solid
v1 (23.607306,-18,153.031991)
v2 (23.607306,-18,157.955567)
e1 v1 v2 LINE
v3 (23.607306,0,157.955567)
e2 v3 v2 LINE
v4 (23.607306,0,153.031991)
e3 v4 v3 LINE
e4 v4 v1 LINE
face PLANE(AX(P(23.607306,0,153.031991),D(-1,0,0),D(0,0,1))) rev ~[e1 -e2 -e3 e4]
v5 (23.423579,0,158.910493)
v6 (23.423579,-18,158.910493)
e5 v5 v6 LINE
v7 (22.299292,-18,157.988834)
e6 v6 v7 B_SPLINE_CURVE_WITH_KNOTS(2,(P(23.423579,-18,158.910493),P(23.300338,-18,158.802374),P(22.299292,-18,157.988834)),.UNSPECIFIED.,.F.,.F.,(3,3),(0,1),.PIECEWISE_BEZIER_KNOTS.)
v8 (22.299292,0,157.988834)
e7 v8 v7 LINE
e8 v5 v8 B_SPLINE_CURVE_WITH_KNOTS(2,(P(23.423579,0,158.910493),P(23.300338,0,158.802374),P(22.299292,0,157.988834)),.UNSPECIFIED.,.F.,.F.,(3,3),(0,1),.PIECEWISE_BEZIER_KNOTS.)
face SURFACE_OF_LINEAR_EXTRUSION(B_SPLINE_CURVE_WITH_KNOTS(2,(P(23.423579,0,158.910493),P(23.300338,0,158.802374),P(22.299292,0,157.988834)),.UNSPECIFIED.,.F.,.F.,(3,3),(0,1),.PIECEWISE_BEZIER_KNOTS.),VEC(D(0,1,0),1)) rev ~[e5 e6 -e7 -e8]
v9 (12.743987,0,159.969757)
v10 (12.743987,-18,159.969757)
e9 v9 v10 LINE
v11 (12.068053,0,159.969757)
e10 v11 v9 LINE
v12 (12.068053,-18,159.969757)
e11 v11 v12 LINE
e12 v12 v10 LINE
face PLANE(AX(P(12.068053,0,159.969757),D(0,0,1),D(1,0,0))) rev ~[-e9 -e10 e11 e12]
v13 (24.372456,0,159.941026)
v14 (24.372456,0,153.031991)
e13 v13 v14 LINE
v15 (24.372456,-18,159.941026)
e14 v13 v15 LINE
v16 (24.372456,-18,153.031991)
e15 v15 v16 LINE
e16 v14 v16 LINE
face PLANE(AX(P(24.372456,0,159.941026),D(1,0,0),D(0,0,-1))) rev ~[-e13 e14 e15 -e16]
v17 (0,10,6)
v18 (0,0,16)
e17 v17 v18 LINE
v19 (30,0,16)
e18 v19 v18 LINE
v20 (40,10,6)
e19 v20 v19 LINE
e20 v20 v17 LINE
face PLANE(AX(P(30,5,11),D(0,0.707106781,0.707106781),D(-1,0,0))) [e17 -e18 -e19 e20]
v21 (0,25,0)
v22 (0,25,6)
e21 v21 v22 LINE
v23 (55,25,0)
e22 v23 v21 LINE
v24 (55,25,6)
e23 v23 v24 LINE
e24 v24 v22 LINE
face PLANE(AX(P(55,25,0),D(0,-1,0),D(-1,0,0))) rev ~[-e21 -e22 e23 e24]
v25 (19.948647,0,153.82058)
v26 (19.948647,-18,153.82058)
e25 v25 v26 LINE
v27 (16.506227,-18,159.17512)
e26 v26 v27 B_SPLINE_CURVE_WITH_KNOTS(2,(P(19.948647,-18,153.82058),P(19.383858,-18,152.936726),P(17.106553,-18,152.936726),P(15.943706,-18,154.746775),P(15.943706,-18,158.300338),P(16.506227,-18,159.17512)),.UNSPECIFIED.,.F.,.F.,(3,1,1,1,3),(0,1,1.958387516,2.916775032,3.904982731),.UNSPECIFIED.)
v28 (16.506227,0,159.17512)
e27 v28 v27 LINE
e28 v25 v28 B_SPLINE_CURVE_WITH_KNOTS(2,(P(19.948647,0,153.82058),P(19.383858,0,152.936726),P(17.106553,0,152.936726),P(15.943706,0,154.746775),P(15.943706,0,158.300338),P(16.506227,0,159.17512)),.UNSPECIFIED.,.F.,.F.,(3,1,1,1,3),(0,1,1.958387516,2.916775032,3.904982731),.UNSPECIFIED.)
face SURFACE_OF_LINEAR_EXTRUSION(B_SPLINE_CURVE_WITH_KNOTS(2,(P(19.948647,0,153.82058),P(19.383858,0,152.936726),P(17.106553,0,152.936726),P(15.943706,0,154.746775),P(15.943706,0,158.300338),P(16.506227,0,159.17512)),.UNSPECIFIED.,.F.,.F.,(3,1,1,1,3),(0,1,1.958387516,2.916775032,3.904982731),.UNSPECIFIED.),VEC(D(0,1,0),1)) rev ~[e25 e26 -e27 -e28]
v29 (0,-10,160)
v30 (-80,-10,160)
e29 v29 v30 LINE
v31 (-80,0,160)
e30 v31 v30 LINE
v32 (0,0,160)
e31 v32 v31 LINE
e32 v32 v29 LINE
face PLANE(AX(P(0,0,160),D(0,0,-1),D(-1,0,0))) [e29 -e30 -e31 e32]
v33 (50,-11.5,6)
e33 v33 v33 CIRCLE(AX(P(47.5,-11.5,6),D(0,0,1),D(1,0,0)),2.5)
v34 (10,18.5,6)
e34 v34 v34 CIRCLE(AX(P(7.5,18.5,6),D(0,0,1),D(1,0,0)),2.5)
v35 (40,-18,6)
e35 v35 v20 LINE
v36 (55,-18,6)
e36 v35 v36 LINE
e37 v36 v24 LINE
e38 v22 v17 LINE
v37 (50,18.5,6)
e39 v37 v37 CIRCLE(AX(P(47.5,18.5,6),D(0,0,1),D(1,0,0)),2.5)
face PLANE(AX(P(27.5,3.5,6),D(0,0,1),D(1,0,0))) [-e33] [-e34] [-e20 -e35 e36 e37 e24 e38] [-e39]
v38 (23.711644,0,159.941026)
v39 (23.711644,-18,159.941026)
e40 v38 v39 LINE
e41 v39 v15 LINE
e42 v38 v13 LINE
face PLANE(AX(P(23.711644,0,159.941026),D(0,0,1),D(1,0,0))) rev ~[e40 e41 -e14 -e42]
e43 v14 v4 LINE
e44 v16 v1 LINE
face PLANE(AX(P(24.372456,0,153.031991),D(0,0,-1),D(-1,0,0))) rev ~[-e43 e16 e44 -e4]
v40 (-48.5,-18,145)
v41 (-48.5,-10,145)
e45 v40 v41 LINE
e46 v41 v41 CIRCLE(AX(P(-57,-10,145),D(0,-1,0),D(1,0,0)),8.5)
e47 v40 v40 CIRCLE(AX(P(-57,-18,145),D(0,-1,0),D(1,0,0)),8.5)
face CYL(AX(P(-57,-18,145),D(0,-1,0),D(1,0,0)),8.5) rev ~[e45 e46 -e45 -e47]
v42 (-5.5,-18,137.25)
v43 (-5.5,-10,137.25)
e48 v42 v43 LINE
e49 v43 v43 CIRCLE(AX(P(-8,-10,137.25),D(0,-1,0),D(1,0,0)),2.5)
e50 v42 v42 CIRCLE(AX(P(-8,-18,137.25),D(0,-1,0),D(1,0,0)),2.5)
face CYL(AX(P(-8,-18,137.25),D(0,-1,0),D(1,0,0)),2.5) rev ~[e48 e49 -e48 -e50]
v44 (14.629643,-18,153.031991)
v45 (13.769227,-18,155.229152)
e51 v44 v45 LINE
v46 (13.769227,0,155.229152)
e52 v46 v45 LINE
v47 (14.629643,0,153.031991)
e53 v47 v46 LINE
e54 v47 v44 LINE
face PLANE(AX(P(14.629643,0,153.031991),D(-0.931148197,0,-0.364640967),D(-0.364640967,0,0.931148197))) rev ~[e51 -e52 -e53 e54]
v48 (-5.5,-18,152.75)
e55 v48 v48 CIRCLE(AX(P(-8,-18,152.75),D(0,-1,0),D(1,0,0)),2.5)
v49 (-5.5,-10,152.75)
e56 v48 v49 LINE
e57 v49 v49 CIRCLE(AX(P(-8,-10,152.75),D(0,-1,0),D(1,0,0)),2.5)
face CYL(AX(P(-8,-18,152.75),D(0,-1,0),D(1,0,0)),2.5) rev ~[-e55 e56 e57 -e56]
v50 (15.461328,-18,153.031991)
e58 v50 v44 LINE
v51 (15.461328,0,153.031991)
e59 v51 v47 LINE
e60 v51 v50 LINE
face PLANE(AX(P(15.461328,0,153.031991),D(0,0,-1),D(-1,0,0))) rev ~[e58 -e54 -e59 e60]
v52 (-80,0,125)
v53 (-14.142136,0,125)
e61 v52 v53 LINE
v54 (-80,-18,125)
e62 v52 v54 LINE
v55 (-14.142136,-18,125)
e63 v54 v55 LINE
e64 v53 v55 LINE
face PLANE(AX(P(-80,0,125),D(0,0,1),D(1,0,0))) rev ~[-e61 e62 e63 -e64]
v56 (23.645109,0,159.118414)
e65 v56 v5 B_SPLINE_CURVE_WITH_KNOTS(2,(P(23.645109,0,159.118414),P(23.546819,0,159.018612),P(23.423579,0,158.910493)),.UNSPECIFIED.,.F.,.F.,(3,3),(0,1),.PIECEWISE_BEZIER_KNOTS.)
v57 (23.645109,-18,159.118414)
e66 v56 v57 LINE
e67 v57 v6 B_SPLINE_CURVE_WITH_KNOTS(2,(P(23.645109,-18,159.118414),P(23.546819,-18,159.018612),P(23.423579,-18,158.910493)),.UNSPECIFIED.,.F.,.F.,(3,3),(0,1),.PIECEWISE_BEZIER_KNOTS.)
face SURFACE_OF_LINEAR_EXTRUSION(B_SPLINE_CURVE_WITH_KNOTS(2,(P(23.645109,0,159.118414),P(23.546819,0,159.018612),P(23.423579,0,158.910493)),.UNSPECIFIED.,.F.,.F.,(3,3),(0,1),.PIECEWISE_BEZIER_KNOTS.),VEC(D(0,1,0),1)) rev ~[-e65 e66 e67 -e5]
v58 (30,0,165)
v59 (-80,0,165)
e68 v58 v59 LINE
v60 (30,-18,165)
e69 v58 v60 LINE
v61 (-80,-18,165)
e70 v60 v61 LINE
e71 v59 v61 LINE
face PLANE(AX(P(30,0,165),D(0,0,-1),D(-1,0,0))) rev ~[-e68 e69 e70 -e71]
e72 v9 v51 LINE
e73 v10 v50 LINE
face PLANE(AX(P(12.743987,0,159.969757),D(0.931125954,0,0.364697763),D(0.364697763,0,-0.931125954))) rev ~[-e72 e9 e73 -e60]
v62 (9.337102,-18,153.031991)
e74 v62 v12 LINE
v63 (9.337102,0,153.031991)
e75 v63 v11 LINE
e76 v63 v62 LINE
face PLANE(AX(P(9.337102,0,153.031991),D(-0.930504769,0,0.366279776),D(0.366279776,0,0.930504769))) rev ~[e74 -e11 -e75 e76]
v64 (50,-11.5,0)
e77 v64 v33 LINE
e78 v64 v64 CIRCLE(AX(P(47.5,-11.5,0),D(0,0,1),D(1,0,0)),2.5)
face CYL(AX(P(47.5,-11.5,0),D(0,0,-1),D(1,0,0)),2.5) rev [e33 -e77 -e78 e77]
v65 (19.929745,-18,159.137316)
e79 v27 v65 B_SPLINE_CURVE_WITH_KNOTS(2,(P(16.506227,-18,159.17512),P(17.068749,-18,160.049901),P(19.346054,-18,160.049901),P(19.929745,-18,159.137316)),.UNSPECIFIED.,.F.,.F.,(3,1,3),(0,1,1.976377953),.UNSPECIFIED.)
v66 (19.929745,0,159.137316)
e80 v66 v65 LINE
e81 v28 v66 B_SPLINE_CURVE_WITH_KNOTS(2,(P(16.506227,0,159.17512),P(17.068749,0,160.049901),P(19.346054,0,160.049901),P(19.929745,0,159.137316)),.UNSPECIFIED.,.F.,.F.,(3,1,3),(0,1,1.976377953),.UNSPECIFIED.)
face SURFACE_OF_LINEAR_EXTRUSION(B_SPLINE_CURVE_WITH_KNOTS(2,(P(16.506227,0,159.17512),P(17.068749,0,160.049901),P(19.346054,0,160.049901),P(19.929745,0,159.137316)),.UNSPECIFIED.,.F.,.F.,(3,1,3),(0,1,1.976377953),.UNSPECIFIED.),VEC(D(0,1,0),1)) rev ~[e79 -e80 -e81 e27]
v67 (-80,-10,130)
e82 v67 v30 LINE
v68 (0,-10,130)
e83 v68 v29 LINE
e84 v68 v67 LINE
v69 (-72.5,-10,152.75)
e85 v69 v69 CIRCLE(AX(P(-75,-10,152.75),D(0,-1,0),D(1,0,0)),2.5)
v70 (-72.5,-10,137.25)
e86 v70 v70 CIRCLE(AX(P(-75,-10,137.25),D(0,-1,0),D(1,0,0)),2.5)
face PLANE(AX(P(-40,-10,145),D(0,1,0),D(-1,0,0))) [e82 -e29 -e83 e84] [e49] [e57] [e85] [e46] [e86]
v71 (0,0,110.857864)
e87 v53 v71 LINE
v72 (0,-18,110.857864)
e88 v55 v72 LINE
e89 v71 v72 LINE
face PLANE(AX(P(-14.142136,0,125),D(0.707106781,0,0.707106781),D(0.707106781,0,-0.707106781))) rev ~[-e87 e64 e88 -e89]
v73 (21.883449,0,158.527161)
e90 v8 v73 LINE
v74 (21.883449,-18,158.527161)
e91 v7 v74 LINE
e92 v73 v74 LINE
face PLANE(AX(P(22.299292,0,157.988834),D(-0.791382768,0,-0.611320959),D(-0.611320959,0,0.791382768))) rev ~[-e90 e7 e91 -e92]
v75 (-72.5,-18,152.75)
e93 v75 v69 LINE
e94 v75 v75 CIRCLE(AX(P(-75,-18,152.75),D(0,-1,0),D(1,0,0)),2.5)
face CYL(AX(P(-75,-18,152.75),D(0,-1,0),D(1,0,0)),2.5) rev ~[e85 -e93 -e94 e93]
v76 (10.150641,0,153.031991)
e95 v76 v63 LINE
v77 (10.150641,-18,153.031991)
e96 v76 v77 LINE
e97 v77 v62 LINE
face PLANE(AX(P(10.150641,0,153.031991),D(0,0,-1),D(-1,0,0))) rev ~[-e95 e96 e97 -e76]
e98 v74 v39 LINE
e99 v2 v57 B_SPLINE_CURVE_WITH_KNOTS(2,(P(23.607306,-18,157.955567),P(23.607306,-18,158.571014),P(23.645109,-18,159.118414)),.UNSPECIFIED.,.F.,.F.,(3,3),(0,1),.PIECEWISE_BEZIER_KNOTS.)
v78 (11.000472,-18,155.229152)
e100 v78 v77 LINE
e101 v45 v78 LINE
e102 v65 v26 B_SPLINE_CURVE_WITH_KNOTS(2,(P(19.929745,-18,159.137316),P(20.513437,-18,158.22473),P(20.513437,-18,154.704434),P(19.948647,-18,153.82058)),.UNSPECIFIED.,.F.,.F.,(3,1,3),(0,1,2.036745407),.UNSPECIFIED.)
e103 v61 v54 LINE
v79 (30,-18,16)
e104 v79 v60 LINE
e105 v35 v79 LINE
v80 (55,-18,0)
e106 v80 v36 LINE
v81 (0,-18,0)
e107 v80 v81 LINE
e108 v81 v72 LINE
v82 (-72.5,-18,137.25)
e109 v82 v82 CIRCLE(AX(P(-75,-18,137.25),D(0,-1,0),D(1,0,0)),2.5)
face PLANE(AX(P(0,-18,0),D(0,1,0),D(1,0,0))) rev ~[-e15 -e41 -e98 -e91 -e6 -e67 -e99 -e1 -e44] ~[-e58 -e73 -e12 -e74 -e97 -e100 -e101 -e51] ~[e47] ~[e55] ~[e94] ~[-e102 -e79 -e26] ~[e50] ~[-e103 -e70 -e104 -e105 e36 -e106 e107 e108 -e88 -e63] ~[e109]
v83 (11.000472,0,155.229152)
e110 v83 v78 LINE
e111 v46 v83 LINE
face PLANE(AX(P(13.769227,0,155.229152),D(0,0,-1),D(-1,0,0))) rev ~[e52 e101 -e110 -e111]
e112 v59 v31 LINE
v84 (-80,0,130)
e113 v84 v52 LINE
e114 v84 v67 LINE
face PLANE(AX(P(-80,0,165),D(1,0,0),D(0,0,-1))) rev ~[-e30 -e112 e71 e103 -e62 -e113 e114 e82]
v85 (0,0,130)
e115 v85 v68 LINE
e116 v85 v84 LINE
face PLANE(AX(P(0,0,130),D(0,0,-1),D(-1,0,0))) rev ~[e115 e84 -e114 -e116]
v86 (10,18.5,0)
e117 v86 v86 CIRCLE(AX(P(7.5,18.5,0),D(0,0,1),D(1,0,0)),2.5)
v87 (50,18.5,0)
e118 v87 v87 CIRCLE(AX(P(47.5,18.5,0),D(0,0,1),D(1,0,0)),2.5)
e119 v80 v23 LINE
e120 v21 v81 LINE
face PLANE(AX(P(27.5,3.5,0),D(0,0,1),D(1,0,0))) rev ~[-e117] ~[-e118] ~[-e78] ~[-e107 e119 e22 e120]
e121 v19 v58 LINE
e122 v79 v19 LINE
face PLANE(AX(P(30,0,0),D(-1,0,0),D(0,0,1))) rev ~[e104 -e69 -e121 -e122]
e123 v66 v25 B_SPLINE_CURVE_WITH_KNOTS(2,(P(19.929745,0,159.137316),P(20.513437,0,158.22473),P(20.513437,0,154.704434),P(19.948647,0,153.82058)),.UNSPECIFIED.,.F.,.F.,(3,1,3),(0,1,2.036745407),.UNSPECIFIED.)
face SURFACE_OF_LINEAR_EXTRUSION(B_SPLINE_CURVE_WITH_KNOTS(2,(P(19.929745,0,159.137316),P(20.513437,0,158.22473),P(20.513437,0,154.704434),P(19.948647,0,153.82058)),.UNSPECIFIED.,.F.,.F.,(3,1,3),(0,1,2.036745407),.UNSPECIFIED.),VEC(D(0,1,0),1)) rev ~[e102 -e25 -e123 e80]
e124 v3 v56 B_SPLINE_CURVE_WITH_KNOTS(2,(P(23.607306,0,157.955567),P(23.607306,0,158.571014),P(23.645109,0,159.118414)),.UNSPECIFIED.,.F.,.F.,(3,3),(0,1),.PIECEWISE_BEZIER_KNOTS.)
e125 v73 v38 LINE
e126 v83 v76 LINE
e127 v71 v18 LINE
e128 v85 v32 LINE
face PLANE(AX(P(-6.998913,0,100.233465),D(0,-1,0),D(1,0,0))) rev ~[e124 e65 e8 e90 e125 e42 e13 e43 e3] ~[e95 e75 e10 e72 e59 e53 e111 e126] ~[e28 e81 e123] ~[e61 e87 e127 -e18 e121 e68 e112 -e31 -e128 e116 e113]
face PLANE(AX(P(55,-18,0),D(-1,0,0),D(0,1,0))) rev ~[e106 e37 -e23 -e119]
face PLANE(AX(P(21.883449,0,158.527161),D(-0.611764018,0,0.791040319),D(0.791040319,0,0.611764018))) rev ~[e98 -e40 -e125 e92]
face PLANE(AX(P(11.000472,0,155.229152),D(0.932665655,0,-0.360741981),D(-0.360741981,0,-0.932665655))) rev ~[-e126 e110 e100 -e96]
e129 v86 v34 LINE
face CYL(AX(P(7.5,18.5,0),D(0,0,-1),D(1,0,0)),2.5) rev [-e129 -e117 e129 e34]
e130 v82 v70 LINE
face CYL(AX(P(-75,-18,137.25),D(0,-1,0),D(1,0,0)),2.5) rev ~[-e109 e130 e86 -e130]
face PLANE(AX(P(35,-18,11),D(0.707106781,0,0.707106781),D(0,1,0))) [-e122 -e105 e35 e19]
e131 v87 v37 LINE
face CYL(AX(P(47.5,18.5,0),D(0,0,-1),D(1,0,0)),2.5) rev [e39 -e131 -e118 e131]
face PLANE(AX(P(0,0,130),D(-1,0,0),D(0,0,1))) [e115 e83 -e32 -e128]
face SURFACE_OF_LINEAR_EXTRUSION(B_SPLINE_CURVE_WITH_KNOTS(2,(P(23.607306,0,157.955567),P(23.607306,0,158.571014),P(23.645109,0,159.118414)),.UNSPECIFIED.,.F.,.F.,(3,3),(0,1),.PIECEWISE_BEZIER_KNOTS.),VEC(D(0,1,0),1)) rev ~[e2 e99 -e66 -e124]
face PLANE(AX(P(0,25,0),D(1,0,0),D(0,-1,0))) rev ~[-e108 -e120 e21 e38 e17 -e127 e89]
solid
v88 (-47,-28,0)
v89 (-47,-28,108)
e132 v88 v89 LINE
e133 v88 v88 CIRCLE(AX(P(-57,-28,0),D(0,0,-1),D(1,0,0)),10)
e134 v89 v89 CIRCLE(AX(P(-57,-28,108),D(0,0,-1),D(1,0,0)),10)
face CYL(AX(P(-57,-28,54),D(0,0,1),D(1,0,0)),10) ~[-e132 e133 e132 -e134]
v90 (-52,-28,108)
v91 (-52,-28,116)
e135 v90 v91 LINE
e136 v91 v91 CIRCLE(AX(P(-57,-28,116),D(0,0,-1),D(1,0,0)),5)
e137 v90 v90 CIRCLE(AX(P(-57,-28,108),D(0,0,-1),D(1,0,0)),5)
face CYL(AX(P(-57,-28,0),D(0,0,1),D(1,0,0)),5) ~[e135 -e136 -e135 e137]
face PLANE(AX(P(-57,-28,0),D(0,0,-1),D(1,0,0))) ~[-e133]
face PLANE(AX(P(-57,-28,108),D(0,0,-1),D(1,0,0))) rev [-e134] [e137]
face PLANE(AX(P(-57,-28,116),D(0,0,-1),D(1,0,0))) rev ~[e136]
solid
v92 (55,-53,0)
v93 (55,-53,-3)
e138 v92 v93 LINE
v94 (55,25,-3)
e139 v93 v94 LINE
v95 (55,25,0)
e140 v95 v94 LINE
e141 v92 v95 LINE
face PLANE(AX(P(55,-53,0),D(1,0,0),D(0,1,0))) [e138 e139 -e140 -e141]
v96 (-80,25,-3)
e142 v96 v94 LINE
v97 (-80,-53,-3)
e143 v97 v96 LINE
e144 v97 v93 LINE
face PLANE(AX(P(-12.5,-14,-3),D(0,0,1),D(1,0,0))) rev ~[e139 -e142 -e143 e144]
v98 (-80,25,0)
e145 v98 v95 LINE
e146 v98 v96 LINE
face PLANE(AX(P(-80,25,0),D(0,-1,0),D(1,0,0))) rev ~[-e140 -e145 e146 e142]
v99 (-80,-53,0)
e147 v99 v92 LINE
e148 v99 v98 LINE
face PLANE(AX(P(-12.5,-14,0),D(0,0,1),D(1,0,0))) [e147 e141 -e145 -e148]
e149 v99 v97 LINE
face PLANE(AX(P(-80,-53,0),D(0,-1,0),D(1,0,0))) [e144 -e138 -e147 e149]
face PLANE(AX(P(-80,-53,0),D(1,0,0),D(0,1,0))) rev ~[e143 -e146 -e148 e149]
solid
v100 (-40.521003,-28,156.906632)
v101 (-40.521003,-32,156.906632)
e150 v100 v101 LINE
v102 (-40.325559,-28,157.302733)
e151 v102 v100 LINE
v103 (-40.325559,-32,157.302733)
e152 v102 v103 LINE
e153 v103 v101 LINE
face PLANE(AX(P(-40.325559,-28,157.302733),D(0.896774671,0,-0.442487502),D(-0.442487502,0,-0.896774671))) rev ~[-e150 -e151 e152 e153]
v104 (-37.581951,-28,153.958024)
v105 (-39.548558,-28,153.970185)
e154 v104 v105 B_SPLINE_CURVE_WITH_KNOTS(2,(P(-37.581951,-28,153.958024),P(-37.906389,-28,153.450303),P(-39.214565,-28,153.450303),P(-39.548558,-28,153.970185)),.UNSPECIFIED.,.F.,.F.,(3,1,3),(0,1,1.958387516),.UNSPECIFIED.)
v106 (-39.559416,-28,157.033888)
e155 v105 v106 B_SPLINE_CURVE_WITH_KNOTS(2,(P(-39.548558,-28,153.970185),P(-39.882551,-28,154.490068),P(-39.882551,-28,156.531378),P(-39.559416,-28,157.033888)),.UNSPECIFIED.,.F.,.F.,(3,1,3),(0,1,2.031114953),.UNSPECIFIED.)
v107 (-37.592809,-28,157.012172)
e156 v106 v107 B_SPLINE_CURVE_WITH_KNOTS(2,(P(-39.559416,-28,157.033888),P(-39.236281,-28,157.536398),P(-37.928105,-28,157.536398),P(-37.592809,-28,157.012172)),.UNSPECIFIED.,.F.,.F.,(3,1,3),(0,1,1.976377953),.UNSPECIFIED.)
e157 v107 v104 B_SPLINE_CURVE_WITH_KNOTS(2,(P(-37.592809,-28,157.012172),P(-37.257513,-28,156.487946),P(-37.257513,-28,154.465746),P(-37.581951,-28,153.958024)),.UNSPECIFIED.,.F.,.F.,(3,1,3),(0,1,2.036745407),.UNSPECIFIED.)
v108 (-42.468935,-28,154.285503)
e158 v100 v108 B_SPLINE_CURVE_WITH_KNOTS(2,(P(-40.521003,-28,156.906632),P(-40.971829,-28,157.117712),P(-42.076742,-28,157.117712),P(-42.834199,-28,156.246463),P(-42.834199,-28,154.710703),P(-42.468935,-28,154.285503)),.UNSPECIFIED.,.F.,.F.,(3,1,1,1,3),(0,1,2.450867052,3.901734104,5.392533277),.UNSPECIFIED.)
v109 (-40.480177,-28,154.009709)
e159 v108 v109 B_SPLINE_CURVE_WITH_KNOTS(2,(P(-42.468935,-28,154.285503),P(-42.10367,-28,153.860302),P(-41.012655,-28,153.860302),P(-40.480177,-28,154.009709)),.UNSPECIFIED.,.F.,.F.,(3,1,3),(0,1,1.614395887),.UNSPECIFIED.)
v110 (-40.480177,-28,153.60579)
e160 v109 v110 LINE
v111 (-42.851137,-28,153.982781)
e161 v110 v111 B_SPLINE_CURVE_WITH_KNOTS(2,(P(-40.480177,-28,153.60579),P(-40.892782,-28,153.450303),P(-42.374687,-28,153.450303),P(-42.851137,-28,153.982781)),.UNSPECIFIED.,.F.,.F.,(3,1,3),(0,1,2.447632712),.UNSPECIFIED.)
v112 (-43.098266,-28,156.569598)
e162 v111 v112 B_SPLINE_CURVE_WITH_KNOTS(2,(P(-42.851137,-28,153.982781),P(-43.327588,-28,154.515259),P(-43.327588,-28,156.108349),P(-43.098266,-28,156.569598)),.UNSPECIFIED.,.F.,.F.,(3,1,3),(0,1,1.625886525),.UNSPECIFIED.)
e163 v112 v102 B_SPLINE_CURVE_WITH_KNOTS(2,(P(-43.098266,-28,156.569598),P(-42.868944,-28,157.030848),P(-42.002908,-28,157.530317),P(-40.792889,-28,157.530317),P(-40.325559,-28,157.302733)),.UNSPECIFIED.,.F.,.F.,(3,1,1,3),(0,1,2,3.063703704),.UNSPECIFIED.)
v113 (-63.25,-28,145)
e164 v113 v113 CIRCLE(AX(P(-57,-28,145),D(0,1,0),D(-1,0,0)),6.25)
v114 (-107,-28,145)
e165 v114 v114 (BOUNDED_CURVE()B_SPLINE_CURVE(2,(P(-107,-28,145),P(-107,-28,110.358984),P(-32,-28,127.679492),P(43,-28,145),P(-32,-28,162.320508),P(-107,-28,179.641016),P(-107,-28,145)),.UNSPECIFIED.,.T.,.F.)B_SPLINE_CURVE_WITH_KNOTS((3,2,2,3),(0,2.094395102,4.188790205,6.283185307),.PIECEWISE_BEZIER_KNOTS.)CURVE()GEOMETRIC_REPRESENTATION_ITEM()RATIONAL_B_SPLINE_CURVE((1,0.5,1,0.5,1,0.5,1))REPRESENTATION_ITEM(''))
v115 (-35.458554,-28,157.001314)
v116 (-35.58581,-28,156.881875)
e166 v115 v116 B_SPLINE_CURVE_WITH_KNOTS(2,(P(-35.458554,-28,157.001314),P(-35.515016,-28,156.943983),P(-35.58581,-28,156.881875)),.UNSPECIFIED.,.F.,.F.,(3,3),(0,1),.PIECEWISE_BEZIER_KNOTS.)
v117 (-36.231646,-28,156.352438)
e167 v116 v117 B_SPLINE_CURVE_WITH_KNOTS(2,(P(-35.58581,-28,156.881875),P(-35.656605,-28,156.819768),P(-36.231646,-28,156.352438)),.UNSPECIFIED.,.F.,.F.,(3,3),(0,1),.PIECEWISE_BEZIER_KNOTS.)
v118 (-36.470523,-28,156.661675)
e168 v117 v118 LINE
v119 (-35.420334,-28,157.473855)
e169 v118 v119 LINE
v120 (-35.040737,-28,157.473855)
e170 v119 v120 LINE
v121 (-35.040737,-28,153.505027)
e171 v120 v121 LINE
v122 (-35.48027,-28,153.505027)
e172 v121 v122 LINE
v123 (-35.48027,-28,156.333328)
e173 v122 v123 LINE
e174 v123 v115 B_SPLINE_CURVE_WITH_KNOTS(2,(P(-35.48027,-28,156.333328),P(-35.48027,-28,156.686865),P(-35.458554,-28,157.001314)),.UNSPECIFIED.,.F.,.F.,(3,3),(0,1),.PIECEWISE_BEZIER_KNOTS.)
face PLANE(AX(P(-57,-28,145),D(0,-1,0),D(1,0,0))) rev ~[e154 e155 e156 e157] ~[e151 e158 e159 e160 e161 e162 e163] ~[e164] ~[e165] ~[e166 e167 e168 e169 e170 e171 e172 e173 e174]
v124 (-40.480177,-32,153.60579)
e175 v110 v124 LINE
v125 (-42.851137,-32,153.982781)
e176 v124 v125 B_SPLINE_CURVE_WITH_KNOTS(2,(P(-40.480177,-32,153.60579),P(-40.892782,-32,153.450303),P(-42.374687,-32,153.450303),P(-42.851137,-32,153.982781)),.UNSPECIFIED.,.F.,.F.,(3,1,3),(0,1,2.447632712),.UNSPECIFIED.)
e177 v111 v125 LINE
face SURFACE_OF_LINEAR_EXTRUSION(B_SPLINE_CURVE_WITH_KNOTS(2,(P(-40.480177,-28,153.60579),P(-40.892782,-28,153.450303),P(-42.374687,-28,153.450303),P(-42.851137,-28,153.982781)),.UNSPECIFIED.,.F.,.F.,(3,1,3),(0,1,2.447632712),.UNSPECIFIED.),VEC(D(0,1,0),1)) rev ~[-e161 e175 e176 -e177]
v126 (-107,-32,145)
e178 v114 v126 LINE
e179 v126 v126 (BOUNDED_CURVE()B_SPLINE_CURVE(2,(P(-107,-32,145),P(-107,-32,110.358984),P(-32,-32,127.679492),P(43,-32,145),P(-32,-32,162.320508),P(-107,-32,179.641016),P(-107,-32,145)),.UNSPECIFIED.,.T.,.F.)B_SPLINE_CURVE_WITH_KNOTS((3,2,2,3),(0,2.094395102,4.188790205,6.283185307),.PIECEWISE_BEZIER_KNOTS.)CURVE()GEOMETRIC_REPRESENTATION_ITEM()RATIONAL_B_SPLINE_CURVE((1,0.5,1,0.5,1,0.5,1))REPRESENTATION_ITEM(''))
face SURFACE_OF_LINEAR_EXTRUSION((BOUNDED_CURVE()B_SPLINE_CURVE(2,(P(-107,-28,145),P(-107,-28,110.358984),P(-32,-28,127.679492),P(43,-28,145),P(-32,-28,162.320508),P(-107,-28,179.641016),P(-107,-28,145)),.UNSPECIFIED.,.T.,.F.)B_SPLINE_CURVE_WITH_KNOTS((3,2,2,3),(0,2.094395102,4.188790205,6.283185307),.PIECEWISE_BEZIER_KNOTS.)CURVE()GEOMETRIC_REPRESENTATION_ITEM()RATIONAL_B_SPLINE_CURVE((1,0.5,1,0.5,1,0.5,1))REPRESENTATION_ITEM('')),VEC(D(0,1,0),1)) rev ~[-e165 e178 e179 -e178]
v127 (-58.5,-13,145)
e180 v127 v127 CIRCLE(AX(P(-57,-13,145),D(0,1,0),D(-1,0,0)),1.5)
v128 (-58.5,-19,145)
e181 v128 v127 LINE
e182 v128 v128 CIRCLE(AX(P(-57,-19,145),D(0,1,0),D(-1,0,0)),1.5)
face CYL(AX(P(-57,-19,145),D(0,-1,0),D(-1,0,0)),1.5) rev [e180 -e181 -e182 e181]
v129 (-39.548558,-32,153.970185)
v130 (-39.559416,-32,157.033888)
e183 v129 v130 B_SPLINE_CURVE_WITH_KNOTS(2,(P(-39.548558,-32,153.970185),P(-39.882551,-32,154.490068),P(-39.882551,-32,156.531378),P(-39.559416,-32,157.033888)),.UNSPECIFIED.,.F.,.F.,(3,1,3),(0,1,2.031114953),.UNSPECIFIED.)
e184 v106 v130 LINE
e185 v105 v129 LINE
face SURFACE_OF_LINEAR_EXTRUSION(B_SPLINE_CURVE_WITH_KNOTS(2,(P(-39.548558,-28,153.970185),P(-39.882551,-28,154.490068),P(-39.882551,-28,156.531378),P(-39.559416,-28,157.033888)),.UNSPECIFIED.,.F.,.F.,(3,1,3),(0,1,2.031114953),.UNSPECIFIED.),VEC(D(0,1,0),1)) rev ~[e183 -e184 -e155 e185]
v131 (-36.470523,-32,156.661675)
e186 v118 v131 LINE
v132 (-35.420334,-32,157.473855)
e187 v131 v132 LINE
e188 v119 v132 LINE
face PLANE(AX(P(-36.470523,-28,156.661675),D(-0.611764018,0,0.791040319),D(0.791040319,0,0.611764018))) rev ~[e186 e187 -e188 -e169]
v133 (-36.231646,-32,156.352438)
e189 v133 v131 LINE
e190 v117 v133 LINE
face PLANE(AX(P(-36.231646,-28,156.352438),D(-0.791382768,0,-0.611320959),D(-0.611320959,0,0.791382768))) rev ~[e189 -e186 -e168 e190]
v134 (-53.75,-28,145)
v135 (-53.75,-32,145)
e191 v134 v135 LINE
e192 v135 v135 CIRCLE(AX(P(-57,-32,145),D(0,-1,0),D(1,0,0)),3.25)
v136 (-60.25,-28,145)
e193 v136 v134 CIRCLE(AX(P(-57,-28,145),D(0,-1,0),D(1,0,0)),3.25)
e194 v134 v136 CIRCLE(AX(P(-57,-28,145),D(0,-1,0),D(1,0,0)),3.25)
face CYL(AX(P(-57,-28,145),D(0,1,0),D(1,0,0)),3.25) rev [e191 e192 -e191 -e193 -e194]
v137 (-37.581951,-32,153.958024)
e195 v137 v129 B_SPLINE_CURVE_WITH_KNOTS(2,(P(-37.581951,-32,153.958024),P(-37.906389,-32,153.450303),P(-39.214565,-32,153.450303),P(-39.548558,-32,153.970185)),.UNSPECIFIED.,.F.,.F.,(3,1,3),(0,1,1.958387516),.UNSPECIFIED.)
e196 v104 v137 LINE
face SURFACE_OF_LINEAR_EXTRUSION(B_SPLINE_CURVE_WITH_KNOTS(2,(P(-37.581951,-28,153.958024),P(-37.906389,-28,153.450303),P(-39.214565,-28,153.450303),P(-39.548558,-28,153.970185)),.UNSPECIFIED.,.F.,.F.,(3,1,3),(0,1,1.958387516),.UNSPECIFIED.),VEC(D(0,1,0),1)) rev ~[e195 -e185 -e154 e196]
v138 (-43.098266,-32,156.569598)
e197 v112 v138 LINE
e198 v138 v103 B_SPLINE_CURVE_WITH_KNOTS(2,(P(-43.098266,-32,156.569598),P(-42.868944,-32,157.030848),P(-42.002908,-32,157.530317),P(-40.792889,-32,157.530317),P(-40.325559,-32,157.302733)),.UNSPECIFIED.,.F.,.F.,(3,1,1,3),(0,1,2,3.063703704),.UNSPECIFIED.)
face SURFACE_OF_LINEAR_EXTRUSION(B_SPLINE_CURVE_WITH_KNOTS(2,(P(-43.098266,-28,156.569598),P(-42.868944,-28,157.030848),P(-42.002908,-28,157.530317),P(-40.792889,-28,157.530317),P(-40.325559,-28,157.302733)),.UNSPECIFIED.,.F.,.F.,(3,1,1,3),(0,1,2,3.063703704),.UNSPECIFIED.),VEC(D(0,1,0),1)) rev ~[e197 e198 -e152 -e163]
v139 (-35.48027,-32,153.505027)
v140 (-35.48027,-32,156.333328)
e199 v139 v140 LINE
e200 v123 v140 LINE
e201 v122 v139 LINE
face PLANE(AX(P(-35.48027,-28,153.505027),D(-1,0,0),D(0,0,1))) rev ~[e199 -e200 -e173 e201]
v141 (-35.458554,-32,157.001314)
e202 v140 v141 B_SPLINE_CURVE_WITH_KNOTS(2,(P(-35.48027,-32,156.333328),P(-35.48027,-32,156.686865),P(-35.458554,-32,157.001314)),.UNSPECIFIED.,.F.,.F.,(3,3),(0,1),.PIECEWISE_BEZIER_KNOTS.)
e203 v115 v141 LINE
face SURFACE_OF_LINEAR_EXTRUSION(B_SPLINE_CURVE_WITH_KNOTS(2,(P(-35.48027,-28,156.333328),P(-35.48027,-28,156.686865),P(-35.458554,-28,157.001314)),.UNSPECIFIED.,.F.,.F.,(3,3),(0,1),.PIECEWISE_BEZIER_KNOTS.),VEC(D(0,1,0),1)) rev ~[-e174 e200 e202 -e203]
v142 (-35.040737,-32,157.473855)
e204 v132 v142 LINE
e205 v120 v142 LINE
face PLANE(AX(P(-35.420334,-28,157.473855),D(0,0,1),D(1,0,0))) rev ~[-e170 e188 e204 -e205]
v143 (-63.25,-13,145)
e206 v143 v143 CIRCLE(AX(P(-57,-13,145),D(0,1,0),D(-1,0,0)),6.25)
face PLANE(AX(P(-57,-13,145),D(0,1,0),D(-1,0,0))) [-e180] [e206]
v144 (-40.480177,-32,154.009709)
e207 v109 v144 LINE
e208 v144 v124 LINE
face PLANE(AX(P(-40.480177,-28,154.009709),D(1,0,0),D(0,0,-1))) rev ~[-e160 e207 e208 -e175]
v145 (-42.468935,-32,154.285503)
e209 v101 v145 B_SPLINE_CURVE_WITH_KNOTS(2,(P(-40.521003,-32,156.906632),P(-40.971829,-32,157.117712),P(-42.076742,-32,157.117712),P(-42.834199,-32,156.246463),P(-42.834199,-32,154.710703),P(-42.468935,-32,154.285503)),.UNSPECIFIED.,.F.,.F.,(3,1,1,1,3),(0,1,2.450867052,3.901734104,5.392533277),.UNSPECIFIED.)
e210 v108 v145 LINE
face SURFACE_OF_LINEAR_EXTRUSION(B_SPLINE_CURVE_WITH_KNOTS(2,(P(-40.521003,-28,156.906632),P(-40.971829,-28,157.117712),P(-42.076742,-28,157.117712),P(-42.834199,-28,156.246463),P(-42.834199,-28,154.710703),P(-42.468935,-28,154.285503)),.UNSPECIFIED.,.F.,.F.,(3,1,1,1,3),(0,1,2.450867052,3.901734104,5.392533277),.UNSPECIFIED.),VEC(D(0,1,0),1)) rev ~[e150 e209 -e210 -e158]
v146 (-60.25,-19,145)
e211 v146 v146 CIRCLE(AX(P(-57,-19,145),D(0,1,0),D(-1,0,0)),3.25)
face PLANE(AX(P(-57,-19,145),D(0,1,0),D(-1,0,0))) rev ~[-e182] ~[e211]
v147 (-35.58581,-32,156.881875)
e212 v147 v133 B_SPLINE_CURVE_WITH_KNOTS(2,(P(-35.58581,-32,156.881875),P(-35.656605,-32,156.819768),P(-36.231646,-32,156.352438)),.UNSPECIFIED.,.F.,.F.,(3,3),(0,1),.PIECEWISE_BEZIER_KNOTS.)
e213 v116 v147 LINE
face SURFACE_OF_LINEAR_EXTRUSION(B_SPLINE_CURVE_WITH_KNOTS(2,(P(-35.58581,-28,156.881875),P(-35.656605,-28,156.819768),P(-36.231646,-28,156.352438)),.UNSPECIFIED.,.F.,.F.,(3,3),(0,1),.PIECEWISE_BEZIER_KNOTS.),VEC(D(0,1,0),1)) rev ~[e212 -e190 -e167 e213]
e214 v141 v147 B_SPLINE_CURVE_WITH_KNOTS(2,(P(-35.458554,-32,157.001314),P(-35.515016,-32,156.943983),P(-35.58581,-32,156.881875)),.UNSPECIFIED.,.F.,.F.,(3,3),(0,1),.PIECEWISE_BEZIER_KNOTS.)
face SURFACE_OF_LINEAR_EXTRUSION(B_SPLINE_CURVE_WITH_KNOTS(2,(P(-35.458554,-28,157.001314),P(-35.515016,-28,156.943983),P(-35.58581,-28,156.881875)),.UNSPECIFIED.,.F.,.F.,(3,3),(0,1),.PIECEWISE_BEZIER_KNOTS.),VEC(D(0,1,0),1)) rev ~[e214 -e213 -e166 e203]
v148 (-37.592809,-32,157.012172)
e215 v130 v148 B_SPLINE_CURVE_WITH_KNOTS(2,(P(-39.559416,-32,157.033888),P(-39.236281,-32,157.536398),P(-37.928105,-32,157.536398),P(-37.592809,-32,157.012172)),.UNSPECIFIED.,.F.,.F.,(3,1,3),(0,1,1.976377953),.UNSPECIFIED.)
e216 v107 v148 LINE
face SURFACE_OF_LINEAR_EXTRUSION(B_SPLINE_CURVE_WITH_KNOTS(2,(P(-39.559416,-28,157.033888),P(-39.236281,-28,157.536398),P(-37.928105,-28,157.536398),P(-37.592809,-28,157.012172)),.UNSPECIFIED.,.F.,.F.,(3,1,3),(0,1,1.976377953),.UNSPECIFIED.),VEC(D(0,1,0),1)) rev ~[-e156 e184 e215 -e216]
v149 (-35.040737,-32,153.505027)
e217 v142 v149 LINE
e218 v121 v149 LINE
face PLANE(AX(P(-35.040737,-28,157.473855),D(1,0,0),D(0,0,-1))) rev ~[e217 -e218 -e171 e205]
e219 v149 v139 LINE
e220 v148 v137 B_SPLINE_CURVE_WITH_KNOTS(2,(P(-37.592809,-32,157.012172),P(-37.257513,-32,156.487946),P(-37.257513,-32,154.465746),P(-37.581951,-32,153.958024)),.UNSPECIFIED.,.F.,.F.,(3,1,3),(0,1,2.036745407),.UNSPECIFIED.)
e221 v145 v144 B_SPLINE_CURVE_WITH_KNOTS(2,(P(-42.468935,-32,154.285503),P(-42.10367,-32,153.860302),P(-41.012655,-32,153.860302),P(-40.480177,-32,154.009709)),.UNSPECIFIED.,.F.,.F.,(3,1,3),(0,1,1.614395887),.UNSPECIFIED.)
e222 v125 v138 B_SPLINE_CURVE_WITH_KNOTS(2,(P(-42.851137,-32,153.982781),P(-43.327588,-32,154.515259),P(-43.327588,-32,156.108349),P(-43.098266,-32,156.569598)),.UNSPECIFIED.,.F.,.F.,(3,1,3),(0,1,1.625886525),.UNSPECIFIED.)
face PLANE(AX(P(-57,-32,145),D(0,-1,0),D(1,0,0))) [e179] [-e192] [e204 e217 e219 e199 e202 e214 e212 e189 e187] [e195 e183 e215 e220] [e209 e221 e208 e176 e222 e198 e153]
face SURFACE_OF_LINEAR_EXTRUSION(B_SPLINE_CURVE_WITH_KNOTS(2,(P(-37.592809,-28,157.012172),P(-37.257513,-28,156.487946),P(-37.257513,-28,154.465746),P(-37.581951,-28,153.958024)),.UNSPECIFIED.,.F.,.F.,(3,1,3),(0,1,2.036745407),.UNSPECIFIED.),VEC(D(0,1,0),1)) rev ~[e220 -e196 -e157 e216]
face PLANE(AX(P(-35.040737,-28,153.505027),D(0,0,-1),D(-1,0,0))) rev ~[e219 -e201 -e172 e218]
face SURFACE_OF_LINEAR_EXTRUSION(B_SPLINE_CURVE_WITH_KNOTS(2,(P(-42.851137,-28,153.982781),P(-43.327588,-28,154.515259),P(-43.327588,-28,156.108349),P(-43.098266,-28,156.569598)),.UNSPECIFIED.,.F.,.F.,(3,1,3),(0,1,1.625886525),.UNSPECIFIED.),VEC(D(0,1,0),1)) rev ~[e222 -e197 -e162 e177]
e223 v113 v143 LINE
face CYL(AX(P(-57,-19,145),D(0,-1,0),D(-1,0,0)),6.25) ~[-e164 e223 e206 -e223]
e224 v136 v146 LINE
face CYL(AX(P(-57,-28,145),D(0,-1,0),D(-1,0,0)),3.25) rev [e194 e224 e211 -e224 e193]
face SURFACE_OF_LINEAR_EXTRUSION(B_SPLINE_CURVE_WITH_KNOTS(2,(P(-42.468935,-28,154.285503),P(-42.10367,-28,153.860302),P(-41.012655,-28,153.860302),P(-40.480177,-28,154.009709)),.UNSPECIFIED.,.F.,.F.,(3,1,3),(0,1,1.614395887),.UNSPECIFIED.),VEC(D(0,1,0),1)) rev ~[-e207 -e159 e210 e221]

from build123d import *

# Parameters (mm, degrees)
F1_DEPTH  = 18
F2_R      = 2.5
F2_R_2    = 8.5
F3_DEPTH  = 18.0010001
F4_W      = 80
F4_H      = 30
F5_DEPTH  = 10
F6_R      = 2.5
F7_DEPTH  = 6
F8_SIZE   = 10
F10_R     = 3.25
F11_DEPTH = 4
F12_R     = 6.25
F12_R_2   = 3.25
F13_DEPTH = 9
F14_R     = 6.25
F14_R_2   = 1.5
F15_DEPTH = 6
F16_W     = 5
F16_H     = 108
F18_W     = 135
F18_H     = 78
F19_DEPTH = 3


with BuildPart() as f1:
    # F0 (on Front) → F1 (new body)
    with BuildSketch(Plane.XZ):
        Polygon((0, 110.8578643763), (0, 0), (30, 0), (30, 165), (-80, 165), (-80, 125), (-14.1421356237, 125), align=None)
        Polygon((15.4613284809, 153.0319913823), (14.6296434245, 153.0319913823), (13.7692274298, 155.2291520858), (11.0004722695, 155.2291520858), (10.1506413574, 153.0319913823), (9.3371021568, 153.0319913823), (12.0680534509, 159.969756907), (12.7439865785, 159.969756907), align=None, mode=Mode.SUBTRACT)
        with BuildLine():
            add(Edge.make_bspline(
                [(19.9297454655, 159.1373157734), (20.5134371596, 158.2247304433), (20.5134371596, 156.4963376808)],
                knots=[0, 0, 0, 1, 1, 1], degree=2))
            add(Edge.make_bspline(
                [(20.5134371596, 156.4963376808), (20.5134371596, 154.704434423), (19.9486473986, 153.8205800312)],
                knots=[0, 0, 0, 1, 1, 1], degree=2))
            add(Edge.make_bspline(
                [(19.9486473986, 153.8205800312), (19.3838576376, 152.9367256395), (18.2210107133, 152.9367256395)],
                knots=[0, 0, 0, 1, 1, 1], degree=2))
            add(Edge.make_bspline(
                [(18.2210107133, 152.9367256395), (17.1065527378, 152.9367256395), (16.5251292757, 153.8417501963)],
                knots=[0, 0, 0, 1, 1, 1], degree=2))
            add(Edge.make_bspline(
                [(16.5251292757, 153.8417501963), (15.9437058136, 154.7467747531), (15.9437058136, 156.4963376808)],
                knots=[0, 0, 0, 1, 1, 1], degree=2))
            add(Edge.make_bspline(
                [(15.9437058136, 156.4963376808), (15.9437058136, 158.3003381757), (16.5062273426, 159.1751196396)],
                knots=[0, 0, 0, 1, 1, 1], degree=2))
            add(Edge.make_bspline(
                [(16.5062273426, 159.1751196396), (17.0687488716, 160.0499011034), (18.2210107133, 160.0499011034)],
                knots=[0, 0, 0, 1, 1, 1], degree=2))
            add(Edge.make_bspline(
                [(18.2210107133, 160.0499011034), (19.3460537714, 160.0499011034), (19.9297454655, 159.1373157734)],
                knots=[0, 0, 0, 1, 1, 1], degree=2))
        make_face(mode=Mode.SUBTRACT)
        with BuildLine():
            Line((24.3724558211, 159.9410259687), (24.3724558211, 153.0319913823))
            Line((24.3724558211, 153.0319913823), (23.6073055693, 153.0319913823))
            Line((23.6073055693, 153.0319913823), (23.6073055693, 157.955566916))
            add(Edge.make_bspline(
                [(23.6073055693, 157.955566916), (23.6073055693, 158.5710138577), (23.6451094355, 159.1184138403)],
                knots=[0, 0, 0, 1, 1, 1], degree=2))
            add(Edge.make_bspline(
                [(23.6451094355, 159.1184138403), (23.5468193833, 159.0186116335), (23.4235787795, 158.9104925762)],
                knots=[0, 0, 0, 1, 1, 1], degree=2))
            add(Edge.make_bspline(
                [(23.4235787795, 158.9104925762), (23.3003381757, 158.8023735188), (22.2992917988, 157.9888343183)],
                knots=[0, 0, 0, 1, 1, 1], degree=2))
            Line((22.2992917988, 157.9888343183), (21.8834492706, 158.5271613729))
            Line((21.8834492706, 158.5271613729), (23.71164424, 159.9410259687))
            Line((23.71164424, 159.9410259687), (24.3724558211, 159.9410259687))
        make_face(mode=Mode.SUBTRACT)
    extrude(amount=F1_DEPTH)

    # F2 (on face) → F3 (cut, through all)
    with BuildSketch(Plane.XZ.offset(18)):
        with Locations((-75, 152.75)):
            Circle(F2_R)
        with Locations((-75, 137.25)):
            Circle(F2_R)
        with Locations((-8, 137.25)):
            Circle(F2_R)
        with Locations((-8, 152.75)):
            Circle(F2_R)
        with Locations((-57, 145)):
            Circle(F2_R_2)
    extrude(amount=-F3_DEPTH, mode=Mode.SUBTRACT)

    # F4 (on face) → F5 (cut)
    with BuildSketch(Plane(origin=(0, 0, 0), x_dir=(-1, 0, 0), z_dir=(0, 1, 0))):
        with Locations((40, 145)):
            Rectangle(F4_W, F4_H)
    extrude(amount=-F5_DEPTH, mode=Mode.SUBTRACT)

    # F6 (on Top) → F7 (join)
    with BuildSketch(Plane.XY):
        Polygon((55, 25), (0, 25), (0, 0), (0, -18), (30, -18), (55, -18), align=None)
        with Locations((47.5, -11.5)):
            Circle(F6_R, mode=Mode.SUBTRACT)
        with Locations((7.5, 18.5)):
            Circle(F6_R, mode=Mode.SUBTRACT)
        with Locations((47.5, 18.5)):
            Circle(F6_R, mode=Mode.SUBTRACT)
    extrude(amount=F7_DEPTH)

    # F8
    f8_edges = [f1.edges().sort_by_distance(p)[0] for p in [
        (30, -9, 6),
        (15, 0, 6),
    ]]
    chamfer(f8_edges, length=F8_SIZE)


with BuildPart() as f11:
    # F10 (on offset) → F11 (new body)
    with BuildSketch(Plane.XZ.offset(28)):
        with BuildLine():
            add(Edge.make_bspline(
                [(-107, 145), (-107, 110.3589838486), (-32, 127.6794919243), (43, 145), (-32, 162.3205080757), (-107, 179.6410161514), (-107, 145)],
                knots=[0, 0, 0, 2.0943951024, 2.0943951024, 4.1887902048, 4.1887902048, 6.2831853072, 6.2831853072, 6.2831853072], degree=2, weights=[1, 0.5, 1, 0.5, 1, 0.5, 1]))
        make_face()
        with Locations((-57, 145)):
            Circle(F10_R, mode=Mode.SUBTRACT)
        with BuildLine():
            add(Edge.make_bspline(
                [(-40.5210034417, 156.906631814), (-40.9718289642, 157.1177119719), (-41.4226544866, 157.1177119719)],
                knots=[0, 0, 0, 1, 1, 1], degree=2))
            add(Edge.make_bspline(
                [(-41.4226544866, 157.1177119719), (-42.0767423833, 157.1177119719), (-42.4554705678, 156.6820876954)],
                knots=[0, 0, 0, 1, 1, 1], degree=2))
            add(Edge.make_bspline(
                [(-42.4554705678, 156.6820876954), (-42.8341987523, 156.2464634189), (-42.8341987523, 155.4890070499)],
                knots=[0, 0, 0, 1, 1, 1], degree=2))
            add(Edge.make_bspline(
                [(-42.8341987523, 155.4890070499), (-42.8341987523, 154.7107032578), (-42.4689345285, 154.2855026928)],
                knots=[0, 0, 0, 1, 1, 1], degree=2))
            add(Edge.make_bspline(
                [(-42.4689345285, 154.2855026928), (-42.1036703046, 153.8603021278), (-41.4278663423, 153.8603021278)],
                knots=[0, 0, 0, 1, 1, 1], degree=2))
            add(Edge.make_bspline(
                [(-41.4278663423, 153.8603021278), (-41.0126551675, 153.8603021278), (-40.4801772384, 154.0097086593)],
                knots=[0, 0, 0, 1, 1, 1], degree=2))
            Line((-40.4801772384, 154.0097086593), (-40.4801772384, 153.6057898387))
            add(Edge.make_bspline(
                [(-40.4801772384, 153.6057898387), (-40.8927824853, 153.4503028088), (-41.498226395, 153.4503028088)],
                knots=[0, 0, 0, 1, 1, 1], degree=2))
            add(Edge.make_bspline(
                [(-41.498226395, 153.4503028088), (-42.3746868037, 153.4503028088), (-42.8511372835, 153.982780738)],
                knots=[0, 0, 0, 1, 1, 1], degree=2))
            add(Edge.make_bspline(
                [(-42.8511372835, 153.982780738), (-43.3275877634, 154.5152586671), (-43.3275877634, 155.4950875482)],
                knots=[0, 0, 0, 1, 1, 1], degree=2))
            add(Edge.make_bspline(
                [(-43.3275877634, 155.4950875482), (-43.3275877634, 156.1083492415), (-43.0982661104, 156.5695984755)],
                knots=[0, 0, 0, 1, 1, 1], degree=2))
            add(Edge.make_bspline(
                [(-43.0982661104, 156.5695984755), (-42.8689444573, 157.0308477094), (-42.4359261087, 157.2805824641)],
                knots=[0, 0, 0, 1, 1, 1], degree=2))
            add(Edge.make_bspline(
                [(-42.4359261087, 157.2805824641), (-42.0029077601, 157.5303172188), (-41.4165739882, 157.5303172188)],
                knots=[0, 0, 0, 1, 1, 1], degree=2))
            add(Edge.make_bspline(
                [(-41.4165739882, 157.5303172188), (-40.7928885834, 157.5303172188), (-40.3255588511, 157.302732851)],
                knots=[0, 0, 0, 1, 1, 1], degree=2))
            Line((-40.3255588511, 157.302732851), (-40.5210034417, 156.906631814))
        make_face(mode=Mode.SUBTRACT)
        with BuildLine():
            add(Edge.make_bspline(
                [(-37.5928091526, 157.012171893), (-37.2575130993, 156.4879460687), (-37.2575130993, 155.4950875482)],
                knots=[0, 0, 0, 1, 1, 1], degree=2))
            add(Edge.make_bspline(
                [(-37.2575130993, 155.4950875482), (-37.2575130993, 154.4657460375), (-37.5819511197, 153.9580244231)],
                knots=[0, 0, 0, 1, 1, 1], degree=2))
            add(Edge.make_bspline(
                [(-37.5819511197, 153.9580244231), (-37.9063891402, 153.4503028088), (-38.5743753189, 153.4503028088)],
                knots=[0, 0, 0, 1, 1, 1], degree=2))
            add(Edge.make_bspline(
                [(-38.5743753189, 153.4503028088), (-39.2145649336, 153.4503028088), (-39.5485580229, 153.9701854199)],
                knots=[0, 0, 0, 1, 1, 1], degree=2))
            add(Edge.make_bspline(
                [(-39.5485580229, 153.9701854199), (-39.8825511123, 154.490068031), (-39.8825511123, 155.4950875482)],
                knots=[0, 0, 0, 1, 1, 1], degree=2))
            add(Edge.make_bspline(
                [(-39.8825511123, 155.4950875482), (-39.8825511123, 156.5313782), (-39.5594160558, 157.0338879586)],
                knots=[0, 0, 0, 1, 1, 1], degree=2))
            add(Edge.make_bspline(
                [(-39.5594160558, 157.0338879586), (-39.2362809992, 157.5363977172), (-38.5743753189, 157.5363977172)],
                knots=[0, 0, 0, 1, 1, 1], degree=2))
            add(Edge.make_bspline(
                [(-38.5743753189, 157.5363977172), (-37.9281052058, 157.5363977172), (-37.5928091526, 157.012171893)],
                knots=[0, 0, 0, 1, 1, 1], degree=2))
        make_face(mode=Mode.SUBTRACT)
        with BuildLine():
            Line((-35.04073712, 157.4738554482), (-35.04073712, 153.5050272942))
            Line((-35.04073712, 153.5050272942), (-35.4802702883, 153.5050272942))
            Line((-35.4802702883, 153.5050272942), (-35.4802702883, 156.3333276814))
            add(Edge.make_bspline(
                [(-35.4802702883, 156.3333276814), (-35.4802702883, 156.6868652299), (-35.4585542227, 157.0013138601)],
                knots=[0, 0, 0, 1, 1, 1], degree=2))
            add(Edge.make_bspline(
                [(-35.4585542227, 157.0013138601), (-35.5150159933, 156.9439834469), (-35.5858103673, 156.8818754992)],
                knots=[0, 0, 0, 1, 1, 1], degree=2))
            add(Edge.make_bspline(
                [(-35.5858103673, 156.8818754992), (-35.6566047412, 156.8197675515), (-36.231646159, 156.3524378192)],
                knots=[0, 0, 0, 1, 1, 1], degree=2))
            Line((-36.231646159, 156.3524378192), (-36.4705228809, 156.6616745937))
            Line((-36.4705228809, 156.6616745937), (-35.4203339472, 157.4738554482))
            Line((-35.4203339472, 157.4738554482), (-35.04073712, 157.4738554482))
        make_face(mode=Mode.SUBTRACT)
    extrude(amount=F11_DEPTH)

    # F12 (on face) → F13 (join)
    with BuildSketch(Plane(origin=(0, -28, 0), x_dir=(-1, 0, 0), z_dir=(0, 1, 0))):
        with Locations((57, 145)):
            Circle(F12_R)
        with Locations((57, 145)):
            Circle(F12_R_2, mode=Mode.SUBTRACT)
    extrude(amount=F13_DEPTH)

    # F14 (on face) → F15 (join)
    with BuildSketch(Plane(origin=(0, -19, 0), x_dir=(-1, 0, 0), z_dir=(0, 1, 0))):
        with Locations((57, 145)):
            Circle(F14_R)
        with Locations((57, 145)):
            Circle(F14_R_2, mode=Mode.SUBTRACT)
    extrude(amount=F15_DEPTH)


with BuildPart() as f17:
    # F16 (on offset) → F17 (revolve)
    with BuildSketch(Plane.XZ.offset(28)):
        Polygon((-52, 116), (-57, 116), (-57, 0), (-52, 0), (-52, 108), align=None)
        with Locations((-49.5, 54)):
            Rectangle(F16_W, F16_H)
    revolve(axis=Axis((-57, -28, 58), (0, 0, -1)))


with BuildPart() as f19:
    # F18 (on Top) → F19 (new body)
    with BuildSketch(Plane.XY):
        with Locations((-12.5, -14)):
            Rectangle(F18_W, F18_H)
    extrude(amount=-F19_DEPTH)


solid = Compound([f1.part, f11.part, f17.part, f19.part])
